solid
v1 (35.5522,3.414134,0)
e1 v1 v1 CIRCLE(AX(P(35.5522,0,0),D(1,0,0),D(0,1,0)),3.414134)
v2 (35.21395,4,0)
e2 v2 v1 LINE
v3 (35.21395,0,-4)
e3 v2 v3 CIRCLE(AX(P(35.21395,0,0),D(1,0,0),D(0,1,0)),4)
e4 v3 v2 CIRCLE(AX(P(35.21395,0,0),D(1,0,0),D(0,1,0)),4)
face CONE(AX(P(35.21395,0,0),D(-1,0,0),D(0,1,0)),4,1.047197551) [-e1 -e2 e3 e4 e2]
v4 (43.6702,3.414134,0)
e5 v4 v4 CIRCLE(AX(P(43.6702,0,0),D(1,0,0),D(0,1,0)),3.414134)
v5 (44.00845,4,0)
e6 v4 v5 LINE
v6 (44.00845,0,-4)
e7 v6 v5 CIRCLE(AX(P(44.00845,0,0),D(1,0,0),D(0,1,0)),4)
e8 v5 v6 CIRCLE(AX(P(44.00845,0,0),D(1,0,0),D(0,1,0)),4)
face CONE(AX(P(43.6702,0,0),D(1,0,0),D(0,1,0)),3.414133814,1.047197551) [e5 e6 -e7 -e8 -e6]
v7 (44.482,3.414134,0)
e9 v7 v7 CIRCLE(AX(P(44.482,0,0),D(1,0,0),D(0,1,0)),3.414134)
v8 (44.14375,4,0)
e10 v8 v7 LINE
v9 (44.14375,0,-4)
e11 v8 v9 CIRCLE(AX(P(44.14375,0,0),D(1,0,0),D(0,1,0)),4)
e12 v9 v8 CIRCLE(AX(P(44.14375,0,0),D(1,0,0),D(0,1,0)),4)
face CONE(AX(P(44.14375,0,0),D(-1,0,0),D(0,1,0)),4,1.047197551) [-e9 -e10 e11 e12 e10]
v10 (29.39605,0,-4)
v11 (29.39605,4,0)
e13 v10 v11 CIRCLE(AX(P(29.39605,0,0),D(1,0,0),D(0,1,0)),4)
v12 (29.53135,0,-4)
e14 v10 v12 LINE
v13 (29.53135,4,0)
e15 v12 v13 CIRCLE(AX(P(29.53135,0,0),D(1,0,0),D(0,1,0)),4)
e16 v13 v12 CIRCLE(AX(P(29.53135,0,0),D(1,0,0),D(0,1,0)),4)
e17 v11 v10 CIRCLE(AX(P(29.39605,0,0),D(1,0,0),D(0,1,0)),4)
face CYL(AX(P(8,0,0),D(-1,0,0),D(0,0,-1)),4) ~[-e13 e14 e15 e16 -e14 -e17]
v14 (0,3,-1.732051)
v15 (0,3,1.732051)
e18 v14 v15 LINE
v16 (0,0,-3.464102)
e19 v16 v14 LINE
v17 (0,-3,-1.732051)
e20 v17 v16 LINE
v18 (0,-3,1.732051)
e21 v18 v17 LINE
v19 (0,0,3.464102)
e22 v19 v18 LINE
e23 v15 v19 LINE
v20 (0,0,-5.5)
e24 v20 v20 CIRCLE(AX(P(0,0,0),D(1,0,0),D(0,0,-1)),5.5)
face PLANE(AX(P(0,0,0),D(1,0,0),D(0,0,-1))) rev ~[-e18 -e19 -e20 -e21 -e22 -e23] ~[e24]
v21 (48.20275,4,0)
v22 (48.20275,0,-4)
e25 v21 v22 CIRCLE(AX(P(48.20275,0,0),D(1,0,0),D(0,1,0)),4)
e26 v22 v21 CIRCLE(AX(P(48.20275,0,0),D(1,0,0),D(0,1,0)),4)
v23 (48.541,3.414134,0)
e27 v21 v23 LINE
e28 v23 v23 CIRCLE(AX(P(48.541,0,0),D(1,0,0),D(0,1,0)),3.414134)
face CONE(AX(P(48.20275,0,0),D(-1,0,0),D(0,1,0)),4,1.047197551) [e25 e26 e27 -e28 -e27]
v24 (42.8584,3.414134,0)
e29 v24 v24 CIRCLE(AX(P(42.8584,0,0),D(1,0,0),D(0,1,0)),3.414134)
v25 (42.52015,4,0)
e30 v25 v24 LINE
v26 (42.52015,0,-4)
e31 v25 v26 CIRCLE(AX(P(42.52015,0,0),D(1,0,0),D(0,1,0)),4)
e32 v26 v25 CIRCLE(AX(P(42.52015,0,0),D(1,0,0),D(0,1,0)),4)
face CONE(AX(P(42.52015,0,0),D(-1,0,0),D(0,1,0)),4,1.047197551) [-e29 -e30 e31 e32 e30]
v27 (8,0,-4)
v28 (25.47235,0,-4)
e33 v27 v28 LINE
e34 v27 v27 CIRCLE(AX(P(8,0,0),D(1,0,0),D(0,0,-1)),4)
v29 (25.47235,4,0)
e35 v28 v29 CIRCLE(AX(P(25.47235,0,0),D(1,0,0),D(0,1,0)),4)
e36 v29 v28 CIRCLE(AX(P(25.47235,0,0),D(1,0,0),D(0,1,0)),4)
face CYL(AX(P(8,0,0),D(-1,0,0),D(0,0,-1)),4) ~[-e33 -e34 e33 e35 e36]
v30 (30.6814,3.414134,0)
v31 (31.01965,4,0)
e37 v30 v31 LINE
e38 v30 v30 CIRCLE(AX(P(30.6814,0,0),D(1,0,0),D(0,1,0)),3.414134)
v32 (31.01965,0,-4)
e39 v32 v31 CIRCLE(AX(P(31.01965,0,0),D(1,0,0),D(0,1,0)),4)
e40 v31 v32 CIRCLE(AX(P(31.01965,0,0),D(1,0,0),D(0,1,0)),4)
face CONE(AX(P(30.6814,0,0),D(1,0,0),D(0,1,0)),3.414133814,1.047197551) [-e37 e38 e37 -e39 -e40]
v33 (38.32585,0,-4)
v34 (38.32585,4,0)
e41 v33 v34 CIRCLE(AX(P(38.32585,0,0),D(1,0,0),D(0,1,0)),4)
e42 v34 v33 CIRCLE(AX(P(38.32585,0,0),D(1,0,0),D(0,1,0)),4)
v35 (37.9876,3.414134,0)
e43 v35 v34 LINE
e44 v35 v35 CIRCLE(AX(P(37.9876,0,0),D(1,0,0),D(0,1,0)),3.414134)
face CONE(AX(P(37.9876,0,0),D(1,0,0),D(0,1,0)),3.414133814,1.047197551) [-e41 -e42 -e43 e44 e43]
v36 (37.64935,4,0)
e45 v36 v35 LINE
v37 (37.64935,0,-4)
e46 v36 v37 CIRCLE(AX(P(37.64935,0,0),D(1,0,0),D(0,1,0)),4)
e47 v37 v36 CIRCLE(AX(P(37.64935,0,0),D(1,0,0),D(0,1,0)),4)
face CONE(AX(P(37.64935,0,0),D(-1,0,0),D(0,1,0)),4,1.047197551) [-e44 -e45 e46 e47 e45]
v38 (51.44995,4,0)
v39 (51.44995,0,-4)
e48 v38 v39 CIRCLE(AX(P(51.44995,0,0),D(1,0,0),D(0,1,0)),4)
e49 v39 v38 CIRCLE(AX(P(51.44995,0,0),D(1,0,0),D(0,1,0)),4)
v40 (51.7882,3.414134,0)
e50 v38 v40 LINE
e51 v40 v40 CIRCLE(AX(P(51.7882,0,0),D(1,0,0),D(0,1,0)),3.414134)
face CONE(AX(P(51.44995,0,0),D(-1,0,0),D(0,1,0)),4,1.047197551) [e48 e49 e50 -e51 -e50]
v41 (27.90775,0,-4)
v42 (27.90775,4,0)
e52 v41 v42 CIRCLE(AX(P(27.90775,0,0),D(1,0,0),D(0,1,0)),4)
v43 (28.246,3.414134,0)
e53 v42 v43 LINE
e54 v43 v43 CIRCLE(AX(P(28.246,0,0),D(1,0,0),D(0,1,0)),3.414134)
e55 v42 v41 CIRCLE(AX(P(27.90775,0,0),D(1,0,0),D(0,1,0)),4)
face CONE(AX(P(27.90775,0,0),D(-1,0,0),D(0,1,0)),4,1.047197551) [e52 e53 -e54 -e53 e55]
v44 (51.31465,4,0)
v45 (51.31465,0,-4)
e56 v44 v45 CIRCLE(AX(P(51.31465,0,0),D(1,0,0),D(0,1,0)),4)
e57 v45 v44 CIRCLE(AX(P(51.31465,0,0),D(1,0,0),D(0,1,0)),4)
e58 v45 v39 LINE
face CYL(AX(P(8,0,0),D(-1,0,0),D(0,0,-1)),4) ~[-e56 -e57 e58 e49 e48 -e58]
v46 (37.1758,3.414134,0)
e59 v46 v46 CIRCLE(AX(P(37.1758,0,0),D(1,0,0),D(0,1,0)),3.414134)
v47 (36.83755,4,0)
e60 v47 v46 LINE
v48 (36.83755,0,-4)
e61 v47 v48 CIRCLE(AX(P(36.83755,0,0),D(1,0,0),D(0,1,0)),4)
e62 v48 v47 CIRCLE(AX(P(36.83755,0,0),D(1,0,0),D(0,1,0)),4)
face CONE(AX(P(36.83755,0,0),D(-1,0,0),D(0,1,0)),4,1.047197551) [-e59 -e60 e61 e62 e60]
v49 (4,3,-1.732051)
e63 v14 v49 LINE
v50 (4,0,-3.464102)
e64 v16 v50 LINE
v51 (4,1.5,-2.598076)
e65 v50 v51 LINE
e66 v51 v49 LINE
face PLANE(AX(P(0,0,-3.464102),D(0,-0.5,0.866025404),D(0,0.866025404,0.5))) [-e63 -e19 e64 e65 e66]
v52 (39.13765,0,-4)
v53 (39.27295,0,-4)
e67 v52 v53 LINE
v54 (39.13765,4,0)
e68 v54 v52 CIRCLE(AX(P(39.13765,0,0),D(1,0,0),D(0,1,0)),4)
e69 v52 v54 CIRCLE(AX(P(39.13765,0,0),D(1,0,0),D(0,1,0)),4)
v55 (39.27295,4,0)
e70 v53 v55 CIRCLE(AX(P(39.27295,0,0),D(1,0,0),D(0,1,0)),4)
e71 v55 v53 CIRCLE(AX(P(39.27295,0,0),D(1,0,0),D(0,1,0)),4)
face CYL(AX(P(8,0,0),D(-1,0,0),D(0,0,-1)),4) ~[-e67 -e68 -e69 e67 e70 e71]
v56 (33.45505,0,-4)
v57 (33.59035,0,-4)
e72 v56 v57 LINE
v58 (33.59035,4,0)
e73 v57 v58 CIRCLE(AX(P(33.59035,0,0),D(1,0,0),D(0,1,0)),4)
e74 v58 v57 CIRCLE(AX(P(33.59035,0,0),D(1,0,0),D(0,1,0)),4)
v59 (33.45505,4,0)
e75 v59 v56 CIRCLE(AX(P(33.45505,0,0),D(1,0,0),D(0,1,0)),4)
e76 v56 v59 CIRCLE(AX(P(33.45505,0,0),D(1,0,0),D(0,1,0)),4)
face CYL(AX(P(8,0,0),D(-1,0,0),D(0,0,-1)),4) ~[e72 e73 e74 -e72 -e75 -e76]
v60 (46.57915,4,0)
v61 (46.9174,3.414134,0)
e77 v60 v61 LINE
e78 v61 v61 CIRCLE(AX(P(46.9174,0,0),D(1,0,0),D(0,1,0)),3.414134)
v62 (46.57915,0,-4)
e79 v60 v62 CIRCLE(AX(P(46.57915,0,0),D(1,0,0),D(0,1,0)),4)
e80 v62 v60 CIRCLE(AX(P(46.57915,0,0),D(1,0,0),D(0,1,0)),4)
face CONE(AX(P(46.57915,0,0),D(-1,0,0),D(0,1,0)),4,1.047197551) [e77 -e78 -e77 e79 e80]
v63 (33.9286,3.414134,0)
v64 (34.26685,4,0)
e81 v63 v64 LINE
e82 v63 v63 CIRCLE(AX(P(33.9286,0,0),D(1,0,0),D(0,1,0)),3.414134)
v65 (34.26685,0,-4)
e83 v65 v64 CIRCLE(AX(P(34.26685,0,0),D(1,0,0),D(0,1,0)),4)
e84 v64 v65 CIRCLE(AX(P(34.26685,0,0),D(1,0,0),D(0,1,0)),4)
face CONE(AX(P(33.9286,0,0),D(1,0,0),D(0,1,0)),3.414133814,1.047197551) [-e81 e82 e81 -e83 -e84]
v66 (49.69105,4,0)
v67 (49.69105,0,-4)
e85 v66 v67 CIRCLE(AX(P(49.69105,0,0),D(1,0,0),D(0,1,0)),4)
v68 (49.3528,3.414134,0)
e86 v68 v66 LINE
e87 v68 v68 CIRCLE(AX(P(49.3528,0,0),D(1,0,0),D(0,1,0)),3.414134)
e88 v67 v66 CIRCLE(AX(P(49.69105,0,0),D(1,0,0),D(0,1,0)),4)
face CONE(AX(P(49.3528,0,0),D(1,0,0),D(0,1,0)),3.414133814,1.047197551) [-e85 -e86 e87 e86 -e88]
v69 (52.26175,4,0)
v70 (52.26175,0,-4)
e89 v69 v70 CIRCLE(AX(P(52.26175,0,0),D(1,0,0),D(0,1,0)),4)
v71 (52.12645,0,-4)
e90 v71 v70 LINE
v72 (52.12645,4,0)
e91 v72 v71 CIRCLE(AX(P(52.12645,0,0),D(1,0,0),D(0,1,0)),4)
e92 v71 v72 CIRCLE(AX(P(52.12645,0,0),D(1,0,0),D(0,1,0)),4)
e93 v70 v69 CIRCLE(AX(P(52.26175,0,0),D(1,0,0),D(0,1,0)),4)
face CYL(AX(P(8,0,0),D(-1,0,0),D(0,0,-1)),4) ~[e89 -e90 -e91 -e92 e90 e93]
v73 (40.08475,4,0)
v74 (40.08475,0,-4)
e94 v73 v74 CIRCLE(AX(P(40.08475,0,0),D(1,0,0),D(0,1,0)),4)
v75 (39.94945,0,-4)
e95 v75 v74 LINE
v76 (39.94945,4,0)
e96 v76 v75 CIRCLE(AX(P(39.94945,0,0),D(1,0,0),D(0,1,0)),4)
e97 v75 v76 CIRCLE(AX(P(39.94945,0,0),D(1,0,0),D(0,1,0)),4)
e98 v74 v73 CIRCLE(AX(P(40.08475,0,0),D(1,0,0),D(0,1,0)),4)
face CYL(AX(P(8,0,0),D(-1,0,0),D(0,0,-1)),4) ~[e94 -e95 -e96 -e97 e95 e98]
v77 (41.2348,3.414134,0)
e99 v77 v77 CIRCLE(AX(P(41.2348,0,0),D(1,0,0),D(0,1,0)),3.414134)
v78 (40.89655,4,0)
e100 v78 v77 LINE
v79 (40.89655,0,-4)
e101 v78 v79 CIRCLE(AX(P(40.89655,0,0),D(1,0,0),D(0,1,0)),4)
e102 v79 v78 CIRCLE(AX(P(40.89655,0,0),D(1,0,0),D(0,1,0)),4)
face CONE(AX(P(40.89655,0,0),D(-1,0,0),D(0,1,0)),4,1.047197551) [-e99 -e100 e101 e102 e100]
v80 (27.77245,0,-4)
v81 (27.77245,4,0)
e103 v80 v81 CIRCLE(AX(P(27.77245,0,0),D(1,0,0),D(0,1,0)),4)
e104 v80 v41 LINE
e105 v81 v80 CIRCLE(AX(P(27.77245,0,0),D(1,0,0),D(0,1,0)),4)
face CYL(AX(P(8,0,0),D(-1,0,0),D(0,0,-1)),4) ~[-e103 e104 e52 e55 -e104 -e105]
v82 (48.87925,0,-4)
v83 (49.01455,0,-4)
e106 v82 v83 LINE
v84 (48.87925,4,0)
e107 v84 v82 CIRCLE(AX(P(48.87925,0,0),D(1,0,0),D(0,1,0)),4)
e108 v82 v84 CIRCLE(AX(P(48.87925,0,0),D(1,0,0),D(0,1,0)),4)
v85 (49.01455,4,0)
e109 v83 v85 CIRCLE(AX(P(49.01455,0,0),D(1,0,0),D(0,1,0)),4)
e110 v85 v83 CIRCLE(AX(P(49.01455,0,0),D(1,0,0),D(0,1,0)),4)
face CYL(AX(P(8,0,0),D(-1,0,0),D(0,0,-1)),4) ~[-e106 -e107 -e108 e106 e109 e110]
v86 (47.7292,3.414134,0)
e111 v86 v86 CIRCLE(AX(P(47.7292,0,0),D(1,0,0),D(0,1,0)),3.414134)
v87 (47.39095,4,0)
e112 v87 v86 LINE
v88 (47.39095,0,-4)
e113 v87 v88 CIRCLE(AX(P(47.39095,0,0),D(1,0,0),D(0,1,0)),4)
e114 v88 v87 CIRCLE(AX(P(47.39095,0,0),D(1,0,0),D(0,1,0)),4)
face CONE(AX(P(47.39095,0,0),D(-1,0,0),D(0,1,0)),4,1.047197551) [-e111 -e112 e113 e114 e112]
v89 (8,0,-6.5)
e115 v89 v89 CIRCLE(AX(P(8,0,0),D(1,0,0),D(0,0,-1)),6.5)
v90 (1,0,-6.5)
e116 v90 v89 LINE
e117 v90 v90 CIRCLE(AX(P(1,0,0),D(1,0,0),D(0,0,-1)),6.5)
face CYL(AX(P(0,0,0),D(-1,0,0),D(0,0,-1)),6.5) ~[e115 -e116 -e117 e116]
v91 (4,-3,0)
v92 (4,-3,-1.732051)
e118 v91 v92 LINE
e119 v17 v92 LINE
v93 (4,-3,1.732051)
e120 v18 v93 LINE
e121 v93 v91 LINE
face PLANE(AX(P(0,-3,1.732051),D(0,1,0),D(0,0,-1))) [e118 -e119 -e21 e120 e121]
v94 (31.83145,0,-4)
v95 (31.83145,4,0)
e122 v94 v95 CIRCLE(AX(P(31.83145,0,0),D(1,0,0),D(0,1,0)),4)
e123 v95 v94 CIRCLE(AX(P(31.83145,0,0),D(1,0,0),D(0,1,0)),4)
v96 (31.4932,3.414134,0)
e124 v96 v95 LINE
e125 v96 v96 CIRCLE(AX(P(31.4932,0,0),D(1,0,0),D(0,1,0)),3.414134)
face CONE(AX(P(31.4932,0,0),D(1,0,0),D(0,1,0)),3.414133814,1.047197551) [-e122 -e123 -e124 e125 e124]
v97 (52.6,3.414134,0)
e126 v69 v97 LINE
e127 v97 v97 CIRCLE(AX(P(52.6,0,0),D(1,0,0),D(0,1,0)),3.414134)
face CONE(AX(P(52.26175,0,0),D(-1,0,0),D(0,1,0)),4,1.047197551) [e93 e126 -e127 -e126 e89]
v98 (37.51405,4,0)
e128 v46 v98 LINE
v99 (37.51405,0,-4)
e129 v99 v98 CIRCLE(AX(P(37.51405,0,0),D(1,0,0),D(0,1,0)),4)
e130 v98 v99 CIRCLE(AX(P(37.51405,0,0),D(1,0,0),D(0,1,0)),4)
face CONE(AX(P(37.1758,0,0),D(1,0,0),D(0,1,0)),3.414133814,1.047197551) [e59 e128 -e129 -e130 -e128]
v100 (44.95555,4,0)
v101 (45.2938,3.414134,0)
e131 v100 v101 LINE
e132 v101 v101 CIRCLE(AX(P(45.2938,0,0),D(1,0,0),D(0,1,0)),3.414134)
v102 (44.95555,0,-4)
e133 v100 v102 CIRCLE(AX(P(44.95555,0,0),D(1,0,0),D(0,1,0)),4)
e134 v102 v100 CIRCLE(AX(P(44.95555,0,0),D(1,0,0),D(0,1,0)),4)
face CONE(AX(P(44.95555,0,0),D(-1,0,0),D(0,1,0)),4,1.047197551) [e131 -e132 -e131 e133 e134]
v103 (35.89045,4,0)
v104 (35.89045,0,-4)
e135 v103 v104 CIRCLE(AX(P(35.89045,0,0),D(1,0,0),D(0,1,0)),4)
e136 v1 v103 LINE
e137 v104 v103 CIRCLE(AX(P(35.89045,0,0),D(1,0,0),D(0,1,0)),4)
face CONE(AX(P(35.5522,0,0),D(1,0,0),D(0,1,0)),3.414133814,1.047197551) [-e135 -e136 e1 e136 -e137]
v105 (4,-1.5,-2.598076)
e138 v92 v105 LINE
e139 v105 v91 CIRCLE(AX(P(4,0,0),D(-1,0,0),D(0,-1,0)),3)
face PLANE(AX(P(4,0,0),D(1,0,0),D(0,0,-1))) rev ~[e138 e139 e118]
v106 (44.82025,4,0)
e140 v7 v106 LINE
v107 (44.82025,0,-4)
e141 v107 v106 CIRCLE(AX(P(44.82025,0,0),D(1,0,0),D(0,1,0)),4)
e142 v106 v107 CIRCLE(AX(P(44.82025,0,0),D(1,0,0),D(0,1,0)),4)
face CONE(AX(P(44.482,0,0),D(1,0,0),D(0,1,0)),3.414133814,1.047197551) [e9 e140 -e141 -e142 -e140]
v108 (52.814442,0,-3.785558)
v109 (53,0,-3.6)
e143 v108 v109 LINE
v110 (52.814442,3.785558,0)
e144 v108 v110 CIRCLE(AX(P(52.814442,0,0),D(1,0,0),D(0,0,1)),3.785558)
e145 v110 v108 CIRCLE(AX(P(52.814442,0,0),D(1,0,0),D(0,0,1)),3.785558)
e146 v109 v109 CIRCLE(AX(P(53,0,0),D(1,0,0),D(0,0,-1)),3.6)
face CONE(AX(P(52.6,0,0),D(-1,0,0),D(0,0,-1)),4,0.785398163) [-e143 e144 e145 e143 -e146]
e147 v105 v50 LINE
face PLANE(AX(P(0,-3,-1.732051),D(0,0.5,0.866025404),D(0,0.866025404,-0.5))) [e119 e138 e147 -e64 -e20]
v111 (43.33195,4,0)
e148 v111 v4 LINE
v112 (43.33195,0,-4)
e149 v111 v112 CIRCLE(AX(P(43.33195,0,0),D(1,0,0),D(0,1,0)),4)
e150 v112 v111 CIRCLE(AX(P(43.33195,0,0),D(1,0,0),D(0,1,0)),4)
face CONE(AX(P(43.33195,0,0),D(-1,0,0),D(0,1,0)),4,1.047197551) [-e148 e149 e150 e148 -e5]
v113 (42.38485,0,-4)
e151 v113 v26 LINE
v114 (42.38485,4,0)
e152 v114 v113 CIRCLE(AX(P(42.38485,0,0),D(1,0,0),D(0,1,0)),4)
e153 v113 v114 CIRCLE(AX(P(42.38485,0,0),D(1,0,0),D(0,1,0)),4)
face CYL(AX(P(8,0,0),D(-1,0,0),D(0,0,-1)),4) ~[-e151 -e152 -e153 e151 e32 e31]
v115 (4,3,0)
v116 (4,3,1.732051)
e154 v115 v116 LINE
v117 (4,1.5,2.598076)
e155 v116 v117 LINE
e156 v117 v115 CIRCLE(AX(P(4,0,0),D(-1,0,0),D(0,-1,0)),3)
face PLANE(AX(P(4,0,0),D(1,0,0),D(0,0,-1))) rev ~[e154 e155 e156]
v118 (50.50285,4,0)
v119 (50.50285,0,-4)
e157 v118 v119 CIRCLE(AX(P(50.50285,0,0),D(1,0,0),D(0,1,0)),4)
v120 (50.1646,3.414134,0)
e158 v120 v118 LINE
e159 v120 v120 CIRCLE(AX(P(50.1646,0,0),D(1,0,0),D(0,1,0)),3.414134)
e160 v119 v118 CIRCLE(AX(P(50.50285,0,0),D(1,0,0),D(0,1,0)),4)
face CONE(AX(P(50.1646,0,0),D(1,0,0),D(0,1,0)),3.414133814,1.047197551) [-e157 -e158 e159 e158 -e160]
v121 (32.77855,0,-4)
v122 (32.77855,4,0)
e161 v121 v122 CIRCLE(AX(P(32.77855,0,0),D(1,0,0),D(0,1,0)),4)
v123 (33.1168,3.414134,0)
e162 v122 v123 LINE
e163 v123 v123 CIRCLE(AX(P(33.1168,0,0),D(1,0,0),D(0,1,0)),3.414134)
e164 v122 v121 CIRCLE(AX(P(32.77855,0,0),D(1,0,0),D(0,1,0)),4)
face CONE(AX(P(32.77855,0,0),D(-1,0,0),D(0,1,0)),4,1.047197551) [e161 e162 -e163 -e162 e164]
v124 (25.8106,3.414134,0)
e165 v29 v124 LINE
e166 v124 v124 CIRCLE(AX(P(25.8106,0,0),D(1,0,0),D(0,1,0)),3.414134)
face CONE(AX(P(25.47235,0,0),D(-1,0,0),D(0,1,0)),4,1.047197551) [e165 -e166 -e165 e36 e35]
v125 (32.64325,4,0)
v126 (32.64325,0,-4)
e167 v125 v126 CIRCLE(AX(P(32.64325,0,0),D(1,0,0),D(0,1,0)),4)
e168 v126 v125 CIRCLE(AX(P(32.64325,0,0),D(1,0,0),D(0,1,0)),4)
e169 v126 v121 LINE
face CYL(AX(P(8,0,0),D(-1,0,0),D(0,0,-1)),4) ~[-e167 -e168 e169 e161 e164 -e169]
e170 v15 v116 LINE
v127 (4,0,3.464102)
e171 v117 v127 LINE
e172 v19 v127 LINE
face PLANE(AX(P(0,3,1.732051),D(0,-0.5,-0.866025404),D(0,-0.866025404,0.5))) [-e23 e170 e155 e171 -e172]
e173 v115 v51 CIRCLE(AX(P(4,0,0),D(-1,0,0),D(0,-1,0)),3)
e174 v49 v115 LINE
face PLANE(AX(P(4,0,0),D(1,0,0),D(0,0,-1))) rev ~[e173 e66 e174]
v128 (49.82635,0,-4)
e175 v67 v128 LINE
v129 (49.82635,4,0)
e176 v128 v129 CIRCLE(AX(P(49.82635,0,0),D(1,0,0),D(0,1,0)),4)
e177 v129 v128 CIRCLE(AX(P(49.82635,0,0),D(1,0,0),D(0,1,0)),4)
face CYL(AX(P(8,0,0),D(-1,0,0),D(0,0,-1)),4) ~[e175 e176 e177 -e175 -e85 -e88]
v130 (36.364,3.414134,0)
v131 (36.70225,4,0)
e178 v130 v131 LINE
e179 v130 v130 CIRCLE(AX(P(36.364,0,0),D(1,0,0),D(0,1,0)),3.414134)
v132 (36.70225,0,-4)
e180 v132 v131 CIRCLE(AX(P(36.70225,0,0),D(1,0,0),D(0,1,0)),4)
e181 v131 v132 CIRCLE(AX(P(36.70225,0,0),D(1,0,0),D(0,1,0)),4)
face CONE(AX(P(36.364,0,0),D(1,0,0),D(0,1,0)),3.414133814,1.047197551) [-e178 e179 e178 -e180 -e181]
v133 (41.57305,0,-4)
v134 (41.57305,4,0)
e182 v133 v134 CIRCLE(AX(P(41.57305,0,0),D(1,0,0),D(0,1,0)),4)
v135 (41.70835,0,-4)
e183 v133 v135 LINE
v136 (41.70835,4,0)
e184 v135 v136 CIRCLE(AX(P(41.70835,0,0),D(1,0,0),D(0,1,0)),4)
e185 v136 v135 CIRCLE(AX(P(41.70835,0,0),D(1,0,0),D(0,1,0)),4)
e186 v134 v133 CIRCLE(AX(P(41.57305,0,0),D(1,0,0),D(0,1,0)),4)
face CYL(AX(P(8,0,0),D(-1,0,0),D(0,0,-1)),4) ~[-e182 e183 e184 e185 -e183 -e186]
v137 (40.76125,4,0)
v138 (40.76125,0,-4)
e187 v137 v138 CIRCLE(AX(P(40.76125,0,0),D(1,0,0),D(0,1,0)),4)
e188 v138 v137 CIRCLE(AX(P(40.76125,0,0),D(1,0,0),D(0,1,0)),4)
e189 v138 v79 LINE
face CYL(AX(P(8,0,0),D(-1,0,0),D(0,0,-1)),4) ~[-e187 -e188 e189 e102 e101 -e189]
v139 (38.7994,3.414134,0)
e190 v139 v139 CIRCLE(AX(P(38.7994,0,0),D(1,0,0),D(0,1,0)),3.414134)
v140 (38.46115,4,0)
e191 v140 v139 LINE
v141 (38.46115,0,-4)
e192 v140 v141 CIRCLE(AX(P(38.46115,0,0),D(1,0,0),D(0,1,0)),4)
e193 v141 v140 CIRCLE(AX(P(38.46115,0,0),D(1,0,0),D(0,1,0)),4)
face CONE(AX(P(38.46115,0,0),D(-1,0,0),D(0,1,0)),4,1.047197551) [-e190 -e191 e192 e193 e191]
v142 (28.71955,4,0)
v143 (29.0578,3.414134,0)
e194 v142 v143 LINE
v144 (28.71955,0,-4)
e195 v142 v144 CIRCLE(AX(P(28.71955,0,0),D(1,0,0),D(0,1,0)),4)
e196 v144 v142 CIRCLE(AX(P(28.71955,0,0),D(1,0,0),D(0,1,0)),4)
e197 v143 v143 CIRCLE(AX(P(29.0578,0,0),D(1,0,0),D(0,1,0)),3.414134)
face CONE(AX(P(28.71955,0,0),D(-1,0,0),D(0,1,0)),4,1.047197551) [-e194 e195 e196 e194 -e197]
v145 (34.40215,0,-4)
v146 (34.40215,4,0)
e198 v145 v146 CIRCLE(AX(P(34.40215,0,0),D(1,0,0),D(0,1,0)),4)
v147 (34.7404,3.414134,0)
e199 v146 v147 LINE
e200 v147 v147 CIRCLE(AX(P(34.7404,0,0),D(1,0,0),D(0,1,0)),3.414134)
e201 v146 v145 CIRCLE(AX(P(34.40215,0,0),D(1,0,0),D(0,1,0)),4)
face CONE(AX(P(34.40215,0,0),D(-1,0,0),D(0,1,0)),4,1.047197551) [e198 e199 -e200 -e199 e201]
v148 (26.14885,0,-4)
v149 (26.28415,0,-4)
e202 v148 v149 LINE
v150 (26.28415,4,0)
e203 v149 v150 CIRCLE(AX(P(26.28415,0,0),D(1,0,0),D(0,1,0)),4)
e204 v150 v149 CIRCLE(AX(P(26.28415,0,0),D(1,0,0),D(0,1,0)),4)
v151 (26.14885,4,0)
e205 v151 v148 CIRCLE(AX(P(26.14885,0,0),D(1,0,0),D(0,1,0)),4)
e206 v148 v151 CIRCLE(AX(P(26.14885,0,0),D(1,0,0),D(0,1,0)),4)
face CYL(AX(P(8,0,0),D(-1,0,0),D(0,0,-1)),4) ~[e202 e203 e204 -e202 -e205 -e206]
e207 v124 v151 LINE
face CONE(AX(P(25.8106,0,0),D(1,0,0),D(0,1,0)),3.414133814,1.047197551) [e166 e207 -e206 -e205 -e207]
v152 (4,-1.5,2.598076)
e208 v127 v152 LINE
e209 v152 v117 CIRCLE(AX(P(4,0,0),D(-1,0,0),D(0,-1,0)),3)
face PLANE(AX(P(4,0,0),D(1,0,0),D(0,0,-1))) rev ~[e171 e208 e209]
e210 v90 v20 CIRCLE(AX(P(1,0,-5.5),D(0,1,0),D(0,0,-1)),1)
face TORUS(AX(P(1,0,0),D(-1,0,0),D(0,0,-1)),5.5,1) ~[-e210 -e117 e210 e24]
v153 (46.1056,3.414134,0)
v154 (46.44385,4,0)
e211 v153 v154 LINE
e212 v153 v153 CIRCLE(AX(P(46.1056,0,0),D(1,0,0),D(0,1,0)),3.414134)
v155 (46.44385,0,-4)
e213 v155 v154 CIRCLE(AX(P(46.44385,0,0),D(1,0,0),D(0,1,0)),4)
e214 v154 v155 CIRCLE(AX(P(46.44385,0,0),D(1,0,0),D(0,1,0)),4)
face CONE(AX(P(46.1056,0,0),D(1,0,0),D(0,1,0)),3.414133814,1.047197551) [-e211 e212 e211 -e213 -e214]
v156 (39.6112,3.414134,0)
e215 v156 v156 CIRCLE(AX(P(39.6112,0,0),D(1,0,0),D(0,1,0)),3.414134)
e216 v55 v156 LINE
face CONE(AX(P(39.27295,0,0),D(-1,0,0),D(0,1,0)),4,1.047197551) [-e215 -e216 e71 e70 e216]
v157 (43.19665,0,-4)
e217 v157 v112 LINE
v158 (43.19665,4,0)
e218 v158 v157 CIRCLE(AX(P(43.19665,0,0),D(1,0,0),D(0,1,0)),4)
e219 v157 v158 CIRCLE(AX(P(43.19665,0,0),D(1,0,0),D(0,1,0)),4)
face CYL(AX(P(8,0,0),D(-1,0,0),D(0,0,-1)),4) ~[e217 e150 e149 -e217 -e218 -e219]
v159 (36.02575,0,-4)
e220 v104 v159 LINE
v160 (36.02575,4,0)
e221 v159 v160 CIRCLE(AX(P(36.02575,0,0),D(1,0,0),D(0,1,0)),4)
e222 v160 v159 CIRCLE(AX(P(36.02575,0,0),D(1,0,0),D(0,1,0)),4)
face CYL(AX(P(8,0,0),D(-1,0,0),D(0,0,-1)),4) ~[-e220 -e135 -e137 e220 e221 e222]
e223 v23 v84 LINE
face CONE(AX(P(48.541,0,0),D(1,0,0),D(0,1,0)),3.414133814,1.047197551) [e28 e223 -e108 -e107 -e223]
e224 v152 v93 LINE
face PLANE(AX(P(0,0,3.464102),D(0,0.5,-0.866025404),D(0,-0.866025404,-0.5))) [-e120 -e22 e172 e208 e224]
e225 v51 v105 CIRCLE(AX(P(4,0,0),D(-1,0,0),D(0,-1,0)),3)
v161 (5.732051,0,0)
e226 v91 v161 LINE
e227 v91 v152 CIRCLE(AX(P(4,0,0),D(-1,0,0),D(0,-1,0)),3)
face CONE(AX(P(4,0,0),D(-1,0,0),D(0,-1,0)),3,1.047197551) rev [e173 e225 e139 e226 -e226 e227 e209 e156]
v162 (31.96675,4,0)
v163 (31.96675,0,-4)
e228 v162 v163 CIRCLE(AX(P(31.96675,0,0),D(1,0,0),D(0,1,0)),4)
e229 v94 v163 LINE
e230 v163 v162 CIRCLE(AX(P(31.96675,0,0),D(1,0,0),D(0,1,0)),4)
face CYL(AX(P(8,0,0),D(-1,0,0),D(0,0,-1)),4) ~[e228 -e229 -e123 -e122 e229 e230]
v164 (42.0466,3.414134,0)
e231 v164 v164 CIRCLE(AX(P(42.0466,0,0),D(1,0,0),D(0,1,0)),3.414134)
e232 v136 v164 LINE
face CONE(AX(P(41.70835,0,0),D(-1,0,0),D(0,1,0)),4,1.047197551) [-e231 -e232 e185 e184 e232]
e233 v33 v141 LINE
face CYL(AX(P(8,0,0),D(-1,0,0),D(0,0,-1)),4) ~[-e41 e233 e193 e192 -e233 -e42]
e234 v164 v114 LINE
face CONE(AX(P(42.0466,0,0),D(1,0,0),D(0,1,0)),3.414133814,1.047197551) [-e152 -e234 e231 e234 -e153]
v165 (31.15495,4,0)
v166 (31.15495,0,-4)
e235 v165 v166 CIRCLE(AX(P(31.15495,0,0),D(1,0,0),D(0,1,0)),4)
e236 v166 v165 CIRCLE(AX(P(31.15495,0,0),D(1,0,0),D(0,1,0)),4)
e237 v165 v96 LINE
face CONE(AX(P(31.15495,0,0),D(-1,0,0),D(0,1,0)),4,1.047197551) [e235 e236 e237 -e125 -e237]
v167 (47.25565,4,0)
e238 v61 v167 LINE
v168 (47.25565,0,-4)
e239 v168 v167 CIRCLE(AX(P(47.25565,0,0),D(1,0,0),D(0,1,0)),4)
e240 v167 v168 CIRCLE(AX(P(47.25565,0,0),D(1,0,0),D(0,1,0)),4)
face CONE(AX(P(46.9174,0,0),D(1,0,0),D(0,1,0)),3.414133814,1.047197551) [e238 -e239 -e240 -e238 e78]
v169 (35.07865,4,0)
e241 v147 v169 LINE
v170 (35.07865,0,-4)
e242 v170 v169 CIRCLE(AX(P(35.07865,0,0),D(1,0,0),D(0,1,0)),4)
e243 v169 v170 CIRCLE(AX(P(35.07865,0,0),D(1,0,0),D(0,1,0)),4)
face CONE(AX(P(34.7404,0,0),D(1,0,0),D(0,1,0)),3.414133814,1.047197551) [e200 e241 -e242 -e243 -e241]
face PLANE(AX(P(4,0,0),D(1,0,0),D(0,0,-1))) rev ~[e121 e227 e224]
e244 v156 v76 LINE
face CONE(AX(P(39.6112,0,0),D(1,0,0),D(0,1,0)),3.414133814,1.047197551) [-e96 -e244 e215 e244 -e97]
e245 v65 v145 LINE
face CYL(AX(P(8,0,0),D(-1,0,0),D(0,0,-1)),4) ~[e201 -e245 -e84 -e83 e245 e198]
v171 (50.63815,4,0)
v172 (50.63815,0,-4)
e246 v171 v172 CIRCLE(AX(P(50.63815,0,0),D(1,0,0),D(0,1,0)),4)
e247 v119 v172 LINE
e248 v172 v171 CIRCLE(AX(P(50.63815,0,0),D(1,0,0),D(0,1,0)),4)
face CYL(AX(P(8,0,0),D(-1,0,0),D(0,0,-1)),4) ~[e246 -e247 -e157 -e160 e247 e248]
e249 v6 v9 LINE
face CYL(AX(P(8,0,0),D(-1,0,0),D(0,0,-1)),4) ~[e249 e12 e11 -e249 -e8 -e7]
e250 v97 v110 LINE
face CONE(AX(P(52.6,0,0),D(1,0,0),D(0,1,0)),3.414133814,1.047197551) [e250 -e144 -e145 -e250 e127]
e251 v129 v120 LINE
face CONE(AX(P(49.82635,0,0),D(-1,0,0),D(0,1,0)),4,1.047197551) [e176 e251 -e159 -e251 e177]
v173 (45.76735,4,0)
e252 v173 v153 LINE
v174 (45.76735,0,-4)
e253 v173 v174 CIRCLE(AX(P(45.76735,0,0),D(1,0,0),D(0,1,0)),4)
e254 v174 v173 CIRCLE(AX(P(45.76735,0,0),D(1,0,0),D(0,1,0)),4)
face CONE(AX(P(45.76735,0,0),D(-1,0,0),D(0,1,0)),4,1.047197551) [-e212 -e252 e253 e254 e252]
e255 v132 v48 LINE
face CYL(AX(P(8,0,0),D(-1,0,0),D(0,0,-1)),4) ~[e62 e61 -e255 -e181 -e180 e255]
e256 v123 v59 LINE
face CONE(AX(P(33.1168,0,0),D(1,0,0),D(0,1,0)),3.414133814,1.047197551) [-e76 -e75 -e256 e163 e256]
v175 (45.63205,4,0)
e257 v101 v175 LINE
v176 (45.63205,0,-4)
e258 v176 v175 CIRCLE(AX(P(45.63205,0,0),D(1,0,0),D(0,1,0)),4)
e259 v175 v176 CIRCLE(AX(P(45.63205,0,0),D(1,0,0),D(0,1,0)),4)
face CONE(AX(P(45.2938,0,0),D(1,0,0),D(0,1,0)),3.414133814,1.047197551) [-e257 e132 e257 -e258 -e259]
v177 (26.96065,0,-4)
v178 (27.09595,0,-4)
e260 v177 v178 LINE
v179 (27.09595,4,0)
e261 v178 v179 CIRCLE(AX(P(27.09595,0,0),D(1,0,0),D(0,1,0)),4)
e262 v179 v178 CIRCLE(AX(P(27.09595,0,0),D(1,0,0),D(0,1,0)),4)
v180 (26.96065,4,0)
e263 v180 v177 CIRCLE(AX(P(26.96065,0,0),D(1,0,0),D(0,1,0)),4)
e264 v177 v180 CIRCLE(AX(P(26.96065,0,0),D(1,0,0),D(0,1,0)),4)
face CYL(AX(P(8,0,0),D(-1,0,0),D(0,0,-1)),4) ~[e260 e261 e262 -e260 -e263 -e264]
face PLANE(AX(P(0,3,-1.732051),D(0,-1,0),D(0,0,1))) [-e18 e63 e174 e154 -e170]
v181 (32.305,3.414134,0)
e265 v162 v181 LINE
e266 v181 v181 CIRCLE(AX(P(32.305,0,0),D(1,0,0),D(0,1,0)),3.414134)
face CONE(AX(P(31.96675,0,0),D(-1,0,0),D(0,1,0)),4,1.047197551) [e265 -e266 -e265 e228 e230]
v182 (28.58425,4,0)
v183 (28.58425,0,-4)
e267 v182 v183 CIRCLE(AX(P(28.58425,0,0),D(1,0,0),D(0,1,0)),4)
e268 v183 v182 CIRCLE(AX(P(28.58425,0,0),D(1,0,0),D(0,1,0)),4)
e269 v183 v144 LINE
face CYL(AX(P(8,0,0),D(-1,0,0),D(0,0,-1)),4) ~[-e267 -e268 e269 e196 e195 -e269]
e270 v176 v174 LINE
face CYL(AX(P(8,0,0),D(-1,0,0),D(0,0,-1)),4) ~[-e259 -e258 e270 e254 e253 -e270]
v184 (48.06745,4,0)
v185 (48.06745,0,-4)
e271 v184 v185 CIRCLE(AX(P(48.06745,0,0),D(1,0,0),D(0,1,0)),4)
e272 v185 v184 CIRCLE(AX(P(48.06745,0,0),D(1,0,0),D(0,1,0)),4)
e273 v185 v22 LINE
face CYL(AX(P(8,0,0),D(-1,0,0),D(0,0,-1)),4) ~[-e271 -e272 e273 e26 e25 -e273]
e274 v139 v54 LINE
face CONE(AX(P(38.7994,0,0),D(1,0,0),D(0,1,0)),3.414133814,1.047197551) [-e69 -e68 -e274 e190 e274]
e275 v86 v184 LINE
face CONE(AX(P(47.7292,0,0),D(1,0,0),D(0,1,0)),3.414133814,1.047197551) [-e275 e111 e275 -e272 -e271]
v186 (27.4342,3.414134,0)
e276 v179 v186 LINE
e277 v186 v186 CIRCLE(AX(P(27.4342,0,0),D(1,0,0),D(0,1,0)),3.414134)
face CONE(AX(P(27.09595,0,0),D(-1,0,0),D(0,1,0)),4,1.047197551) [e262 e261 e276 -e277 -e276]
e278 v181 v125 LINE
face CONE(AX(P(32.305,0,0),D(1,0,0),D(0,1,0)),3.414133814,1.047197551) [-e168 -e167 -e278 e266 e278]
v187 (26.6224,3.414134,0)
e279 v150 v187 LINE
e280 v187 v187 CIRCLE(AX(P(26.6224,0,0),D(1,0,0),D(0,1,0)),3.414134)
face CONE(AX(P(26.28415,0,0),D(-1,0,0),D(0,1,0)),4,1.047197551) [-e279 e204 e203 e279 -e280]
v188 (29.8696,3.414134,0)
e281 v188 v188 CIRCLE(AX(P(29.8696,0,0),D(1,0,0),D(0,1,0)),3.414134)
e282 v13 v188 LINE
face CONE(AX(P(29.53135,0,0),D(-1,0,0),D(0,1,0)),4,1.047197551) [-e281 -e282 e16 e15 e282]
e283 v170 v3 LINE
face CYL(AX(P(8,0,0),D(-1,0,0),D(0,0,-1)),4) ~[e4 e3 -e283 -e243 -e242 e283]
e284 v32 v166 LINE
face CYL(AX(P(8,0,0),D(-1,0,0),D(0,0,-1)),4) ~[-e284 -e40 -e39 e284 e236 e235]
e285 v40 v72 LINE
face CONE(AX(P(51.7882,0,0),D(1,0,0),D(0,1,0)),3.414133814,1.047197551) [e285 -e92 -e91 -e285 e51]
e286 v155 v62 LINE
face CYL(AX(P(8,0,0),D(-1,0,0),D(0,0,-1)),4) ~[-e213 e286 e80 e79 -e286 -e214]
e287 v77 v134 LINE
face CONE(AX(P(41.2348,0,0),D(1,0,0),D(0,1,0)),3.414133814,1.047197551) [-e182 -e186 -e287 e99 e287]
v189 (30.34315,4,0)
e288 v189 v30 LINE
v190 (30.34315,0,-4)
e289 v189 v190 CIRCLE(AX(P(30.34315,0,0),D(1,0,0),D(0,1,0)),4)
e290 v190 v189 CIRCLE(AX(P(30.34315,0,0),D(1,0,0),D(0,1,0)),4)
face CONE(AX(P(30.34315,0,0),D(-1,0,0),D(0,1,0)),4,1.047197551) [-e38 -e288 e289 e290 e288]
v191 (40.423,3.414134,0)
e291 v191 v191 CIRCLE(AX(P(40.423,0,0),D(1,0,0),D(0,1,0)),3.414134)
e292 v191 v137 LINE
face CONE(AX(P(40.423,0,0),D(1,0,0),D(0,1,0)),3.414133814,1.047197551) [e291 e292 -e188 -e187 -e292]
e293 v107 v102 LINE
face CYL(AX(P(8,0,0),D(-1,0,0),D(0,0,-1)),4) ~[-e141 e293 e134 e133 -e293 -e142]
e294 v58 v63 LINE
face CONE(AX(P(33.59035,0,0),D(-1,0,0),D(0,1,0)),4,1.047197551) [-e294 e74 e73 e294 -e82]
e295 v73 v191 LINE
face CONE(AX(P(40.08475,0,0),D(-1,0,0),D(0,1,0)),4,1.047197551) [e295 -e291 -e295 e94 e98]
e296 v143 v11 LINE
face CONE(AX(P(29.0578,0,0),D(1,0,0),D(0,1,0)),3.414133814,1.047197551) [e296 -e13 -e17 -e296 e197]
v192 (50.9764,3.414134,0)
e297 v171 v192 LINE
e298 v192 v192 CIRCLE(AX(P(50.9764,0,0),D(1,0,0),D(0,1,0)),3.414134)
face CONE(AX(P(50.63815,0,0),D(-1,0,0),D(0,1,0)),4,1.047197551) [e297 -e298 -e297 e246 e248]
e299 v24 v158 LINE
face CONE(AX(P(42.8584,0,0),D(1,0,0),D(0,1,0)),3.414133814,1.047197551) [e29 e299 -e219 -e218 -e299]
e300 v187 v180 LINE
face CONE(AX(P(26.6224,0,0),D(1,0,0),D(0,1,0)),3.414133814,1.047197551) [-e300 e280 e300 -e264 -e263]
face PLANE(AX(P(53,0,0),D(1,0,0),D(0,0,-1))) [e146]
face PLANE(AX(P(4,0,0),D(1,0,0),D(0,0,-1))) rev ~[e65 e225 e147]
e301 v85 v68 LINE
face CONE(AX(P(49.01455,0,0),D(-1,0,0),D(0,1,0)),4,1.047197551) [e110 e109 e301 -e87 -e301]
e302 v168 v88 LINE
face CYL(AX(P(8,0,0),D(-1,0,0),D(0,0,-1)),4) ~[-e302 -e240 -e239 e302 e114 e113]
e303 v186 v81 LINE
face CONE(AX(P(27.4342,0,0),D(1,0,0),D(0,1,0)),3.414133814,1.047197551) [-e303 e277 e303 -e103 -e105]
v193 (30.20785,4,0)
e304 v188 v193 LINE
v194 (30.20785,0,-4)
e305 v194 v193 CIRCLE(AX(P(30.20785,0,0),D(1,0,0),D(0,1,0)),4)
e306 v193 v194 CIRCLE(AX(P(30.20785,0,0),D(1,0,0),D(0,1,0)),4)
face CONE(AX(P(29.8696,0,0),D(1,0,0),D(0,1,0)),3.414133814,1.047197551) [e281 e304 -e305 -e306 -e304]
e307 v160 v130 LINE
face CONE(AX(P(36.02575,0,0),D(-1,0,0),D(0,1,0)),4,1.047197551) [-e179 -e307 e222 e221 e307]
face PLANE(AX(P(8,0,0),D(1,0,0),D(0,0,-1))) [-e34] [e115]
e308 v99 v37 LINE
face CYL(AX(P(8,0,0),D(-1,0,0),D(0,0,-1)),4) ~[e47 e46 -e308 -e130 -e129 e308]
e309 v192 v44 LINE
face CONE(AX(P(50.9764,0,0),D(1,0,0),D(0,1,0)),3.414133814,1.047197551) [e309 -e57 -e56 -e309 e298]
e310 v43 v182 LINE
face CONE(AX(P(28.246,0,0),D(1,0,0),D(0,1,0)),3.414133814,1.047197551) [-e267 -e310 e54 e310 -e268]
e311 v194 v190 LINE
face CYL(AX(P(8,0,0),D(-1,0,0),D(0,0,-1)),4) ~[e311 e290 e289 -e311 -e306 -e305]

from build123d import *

# Parameters (mm, degrees)
SKETCH1_R           = 6.5
BASEHEAD_DEPTH      = 8
SKETCH2_R           = 4
BASEBODY_DEPTH      = 45
HEXAGONSOCKET_DEPTH = 4
TOPFILLET_R         = 1
CHAMFER1_SIZE       = 0.4
LPATTERN10_COUNT    = 34
LPATTERN10_PITCH    = 0.8118


with BuildPart() as part:
    # Sketch1 → BaseHead (new body)
    with BuildSketch(Plane(origin=(0, 0, 0), x_dir=(0, 0, -1), z_dir=(1, 0, 0))):
        Circle(SKETCH1_R)
    extrude(amount=BASEHEAD_DEPTH)

    # Sketch2 → BaseBody (add)
    with BuildSketch(Plane(origin=(8, 0, 0), x_dir=(0, 0, -1), z_dir=(1, 0, 0))):
        Circle(SKETCH2_R)
    extrude(amount=BASEBODY_DEPTH)

    # Sketch3 → HexagonSocket (cut)
    with BuildSketch(Plane(origin=(0, 0, 0), x_dir=(0, 0, -1), z_dir=(1, 0, 0))):
        Polygon((3.464101615, 0), (1.732050808, 3), (-1.732050808, 3), (-3.464101615, 0), (-1.732050808, -3), (1.732050808, -3), align=None)
    extrude(amount=HEXAGONSOCKET_DEPTH, mode=Mode.SUBTRACT)

    # Sketch4 → Cut-Revolve1 (revolve, cut)
    with BuildSketch(Plane(origin=(-4.19613823, 0.75, 0), x_dir=(-1, 0, 0), z_dir=(0, 0, 1))):
        Polygon((-8.19613823, 3.75), (-9.928189037, 0.75), (-8.19613823, 0.75), align=None)
    revolve(axis=Axis((0.838992387, 0, 0), (-1, 0, 0)), mode=Mode.SUBTRACT)

    # TopFillet
    topfillet_edges = [part.edges().sort_by_distance(p)[0] for p in [
        (0, 0, 6.5),
    ]]
    fillet(topfillet_edges, radius=TOPFILLET_R)

    # Chamfer1
    chamfer1_edges = [part.edges().sort_by_distance(p)[0] for p in [
        (53, 0, 4),
    ]]
    chamfer(chamfer1_edges, length=CHAMFER1_SIZE)

    # Sketch5 → Cut-Revolve10 (revolve, cut)
    with BuildSketch(Plane.XY):
        Polygon((52.6, 3.414133814), (52.93825, 4), (52.93825, 4.6765), (52.26175, 4.6765), (52.26175, 4), align=None)
    cut_revolve10 = revolve(axis=Axis((0, 0, 0), (1, 0, 0)), mode=Mode.SUBTRACT)

    # LPattern10: Cut-Revolve10 ×34
    with Locations(*[(-i * LPATTERN10_PITCH, 0, 0) for i in range(1, LPATTERN10_COUNT)]):
        add(cut_revolve10, mode=Mode.SUBTRACT)


solid = part.part
